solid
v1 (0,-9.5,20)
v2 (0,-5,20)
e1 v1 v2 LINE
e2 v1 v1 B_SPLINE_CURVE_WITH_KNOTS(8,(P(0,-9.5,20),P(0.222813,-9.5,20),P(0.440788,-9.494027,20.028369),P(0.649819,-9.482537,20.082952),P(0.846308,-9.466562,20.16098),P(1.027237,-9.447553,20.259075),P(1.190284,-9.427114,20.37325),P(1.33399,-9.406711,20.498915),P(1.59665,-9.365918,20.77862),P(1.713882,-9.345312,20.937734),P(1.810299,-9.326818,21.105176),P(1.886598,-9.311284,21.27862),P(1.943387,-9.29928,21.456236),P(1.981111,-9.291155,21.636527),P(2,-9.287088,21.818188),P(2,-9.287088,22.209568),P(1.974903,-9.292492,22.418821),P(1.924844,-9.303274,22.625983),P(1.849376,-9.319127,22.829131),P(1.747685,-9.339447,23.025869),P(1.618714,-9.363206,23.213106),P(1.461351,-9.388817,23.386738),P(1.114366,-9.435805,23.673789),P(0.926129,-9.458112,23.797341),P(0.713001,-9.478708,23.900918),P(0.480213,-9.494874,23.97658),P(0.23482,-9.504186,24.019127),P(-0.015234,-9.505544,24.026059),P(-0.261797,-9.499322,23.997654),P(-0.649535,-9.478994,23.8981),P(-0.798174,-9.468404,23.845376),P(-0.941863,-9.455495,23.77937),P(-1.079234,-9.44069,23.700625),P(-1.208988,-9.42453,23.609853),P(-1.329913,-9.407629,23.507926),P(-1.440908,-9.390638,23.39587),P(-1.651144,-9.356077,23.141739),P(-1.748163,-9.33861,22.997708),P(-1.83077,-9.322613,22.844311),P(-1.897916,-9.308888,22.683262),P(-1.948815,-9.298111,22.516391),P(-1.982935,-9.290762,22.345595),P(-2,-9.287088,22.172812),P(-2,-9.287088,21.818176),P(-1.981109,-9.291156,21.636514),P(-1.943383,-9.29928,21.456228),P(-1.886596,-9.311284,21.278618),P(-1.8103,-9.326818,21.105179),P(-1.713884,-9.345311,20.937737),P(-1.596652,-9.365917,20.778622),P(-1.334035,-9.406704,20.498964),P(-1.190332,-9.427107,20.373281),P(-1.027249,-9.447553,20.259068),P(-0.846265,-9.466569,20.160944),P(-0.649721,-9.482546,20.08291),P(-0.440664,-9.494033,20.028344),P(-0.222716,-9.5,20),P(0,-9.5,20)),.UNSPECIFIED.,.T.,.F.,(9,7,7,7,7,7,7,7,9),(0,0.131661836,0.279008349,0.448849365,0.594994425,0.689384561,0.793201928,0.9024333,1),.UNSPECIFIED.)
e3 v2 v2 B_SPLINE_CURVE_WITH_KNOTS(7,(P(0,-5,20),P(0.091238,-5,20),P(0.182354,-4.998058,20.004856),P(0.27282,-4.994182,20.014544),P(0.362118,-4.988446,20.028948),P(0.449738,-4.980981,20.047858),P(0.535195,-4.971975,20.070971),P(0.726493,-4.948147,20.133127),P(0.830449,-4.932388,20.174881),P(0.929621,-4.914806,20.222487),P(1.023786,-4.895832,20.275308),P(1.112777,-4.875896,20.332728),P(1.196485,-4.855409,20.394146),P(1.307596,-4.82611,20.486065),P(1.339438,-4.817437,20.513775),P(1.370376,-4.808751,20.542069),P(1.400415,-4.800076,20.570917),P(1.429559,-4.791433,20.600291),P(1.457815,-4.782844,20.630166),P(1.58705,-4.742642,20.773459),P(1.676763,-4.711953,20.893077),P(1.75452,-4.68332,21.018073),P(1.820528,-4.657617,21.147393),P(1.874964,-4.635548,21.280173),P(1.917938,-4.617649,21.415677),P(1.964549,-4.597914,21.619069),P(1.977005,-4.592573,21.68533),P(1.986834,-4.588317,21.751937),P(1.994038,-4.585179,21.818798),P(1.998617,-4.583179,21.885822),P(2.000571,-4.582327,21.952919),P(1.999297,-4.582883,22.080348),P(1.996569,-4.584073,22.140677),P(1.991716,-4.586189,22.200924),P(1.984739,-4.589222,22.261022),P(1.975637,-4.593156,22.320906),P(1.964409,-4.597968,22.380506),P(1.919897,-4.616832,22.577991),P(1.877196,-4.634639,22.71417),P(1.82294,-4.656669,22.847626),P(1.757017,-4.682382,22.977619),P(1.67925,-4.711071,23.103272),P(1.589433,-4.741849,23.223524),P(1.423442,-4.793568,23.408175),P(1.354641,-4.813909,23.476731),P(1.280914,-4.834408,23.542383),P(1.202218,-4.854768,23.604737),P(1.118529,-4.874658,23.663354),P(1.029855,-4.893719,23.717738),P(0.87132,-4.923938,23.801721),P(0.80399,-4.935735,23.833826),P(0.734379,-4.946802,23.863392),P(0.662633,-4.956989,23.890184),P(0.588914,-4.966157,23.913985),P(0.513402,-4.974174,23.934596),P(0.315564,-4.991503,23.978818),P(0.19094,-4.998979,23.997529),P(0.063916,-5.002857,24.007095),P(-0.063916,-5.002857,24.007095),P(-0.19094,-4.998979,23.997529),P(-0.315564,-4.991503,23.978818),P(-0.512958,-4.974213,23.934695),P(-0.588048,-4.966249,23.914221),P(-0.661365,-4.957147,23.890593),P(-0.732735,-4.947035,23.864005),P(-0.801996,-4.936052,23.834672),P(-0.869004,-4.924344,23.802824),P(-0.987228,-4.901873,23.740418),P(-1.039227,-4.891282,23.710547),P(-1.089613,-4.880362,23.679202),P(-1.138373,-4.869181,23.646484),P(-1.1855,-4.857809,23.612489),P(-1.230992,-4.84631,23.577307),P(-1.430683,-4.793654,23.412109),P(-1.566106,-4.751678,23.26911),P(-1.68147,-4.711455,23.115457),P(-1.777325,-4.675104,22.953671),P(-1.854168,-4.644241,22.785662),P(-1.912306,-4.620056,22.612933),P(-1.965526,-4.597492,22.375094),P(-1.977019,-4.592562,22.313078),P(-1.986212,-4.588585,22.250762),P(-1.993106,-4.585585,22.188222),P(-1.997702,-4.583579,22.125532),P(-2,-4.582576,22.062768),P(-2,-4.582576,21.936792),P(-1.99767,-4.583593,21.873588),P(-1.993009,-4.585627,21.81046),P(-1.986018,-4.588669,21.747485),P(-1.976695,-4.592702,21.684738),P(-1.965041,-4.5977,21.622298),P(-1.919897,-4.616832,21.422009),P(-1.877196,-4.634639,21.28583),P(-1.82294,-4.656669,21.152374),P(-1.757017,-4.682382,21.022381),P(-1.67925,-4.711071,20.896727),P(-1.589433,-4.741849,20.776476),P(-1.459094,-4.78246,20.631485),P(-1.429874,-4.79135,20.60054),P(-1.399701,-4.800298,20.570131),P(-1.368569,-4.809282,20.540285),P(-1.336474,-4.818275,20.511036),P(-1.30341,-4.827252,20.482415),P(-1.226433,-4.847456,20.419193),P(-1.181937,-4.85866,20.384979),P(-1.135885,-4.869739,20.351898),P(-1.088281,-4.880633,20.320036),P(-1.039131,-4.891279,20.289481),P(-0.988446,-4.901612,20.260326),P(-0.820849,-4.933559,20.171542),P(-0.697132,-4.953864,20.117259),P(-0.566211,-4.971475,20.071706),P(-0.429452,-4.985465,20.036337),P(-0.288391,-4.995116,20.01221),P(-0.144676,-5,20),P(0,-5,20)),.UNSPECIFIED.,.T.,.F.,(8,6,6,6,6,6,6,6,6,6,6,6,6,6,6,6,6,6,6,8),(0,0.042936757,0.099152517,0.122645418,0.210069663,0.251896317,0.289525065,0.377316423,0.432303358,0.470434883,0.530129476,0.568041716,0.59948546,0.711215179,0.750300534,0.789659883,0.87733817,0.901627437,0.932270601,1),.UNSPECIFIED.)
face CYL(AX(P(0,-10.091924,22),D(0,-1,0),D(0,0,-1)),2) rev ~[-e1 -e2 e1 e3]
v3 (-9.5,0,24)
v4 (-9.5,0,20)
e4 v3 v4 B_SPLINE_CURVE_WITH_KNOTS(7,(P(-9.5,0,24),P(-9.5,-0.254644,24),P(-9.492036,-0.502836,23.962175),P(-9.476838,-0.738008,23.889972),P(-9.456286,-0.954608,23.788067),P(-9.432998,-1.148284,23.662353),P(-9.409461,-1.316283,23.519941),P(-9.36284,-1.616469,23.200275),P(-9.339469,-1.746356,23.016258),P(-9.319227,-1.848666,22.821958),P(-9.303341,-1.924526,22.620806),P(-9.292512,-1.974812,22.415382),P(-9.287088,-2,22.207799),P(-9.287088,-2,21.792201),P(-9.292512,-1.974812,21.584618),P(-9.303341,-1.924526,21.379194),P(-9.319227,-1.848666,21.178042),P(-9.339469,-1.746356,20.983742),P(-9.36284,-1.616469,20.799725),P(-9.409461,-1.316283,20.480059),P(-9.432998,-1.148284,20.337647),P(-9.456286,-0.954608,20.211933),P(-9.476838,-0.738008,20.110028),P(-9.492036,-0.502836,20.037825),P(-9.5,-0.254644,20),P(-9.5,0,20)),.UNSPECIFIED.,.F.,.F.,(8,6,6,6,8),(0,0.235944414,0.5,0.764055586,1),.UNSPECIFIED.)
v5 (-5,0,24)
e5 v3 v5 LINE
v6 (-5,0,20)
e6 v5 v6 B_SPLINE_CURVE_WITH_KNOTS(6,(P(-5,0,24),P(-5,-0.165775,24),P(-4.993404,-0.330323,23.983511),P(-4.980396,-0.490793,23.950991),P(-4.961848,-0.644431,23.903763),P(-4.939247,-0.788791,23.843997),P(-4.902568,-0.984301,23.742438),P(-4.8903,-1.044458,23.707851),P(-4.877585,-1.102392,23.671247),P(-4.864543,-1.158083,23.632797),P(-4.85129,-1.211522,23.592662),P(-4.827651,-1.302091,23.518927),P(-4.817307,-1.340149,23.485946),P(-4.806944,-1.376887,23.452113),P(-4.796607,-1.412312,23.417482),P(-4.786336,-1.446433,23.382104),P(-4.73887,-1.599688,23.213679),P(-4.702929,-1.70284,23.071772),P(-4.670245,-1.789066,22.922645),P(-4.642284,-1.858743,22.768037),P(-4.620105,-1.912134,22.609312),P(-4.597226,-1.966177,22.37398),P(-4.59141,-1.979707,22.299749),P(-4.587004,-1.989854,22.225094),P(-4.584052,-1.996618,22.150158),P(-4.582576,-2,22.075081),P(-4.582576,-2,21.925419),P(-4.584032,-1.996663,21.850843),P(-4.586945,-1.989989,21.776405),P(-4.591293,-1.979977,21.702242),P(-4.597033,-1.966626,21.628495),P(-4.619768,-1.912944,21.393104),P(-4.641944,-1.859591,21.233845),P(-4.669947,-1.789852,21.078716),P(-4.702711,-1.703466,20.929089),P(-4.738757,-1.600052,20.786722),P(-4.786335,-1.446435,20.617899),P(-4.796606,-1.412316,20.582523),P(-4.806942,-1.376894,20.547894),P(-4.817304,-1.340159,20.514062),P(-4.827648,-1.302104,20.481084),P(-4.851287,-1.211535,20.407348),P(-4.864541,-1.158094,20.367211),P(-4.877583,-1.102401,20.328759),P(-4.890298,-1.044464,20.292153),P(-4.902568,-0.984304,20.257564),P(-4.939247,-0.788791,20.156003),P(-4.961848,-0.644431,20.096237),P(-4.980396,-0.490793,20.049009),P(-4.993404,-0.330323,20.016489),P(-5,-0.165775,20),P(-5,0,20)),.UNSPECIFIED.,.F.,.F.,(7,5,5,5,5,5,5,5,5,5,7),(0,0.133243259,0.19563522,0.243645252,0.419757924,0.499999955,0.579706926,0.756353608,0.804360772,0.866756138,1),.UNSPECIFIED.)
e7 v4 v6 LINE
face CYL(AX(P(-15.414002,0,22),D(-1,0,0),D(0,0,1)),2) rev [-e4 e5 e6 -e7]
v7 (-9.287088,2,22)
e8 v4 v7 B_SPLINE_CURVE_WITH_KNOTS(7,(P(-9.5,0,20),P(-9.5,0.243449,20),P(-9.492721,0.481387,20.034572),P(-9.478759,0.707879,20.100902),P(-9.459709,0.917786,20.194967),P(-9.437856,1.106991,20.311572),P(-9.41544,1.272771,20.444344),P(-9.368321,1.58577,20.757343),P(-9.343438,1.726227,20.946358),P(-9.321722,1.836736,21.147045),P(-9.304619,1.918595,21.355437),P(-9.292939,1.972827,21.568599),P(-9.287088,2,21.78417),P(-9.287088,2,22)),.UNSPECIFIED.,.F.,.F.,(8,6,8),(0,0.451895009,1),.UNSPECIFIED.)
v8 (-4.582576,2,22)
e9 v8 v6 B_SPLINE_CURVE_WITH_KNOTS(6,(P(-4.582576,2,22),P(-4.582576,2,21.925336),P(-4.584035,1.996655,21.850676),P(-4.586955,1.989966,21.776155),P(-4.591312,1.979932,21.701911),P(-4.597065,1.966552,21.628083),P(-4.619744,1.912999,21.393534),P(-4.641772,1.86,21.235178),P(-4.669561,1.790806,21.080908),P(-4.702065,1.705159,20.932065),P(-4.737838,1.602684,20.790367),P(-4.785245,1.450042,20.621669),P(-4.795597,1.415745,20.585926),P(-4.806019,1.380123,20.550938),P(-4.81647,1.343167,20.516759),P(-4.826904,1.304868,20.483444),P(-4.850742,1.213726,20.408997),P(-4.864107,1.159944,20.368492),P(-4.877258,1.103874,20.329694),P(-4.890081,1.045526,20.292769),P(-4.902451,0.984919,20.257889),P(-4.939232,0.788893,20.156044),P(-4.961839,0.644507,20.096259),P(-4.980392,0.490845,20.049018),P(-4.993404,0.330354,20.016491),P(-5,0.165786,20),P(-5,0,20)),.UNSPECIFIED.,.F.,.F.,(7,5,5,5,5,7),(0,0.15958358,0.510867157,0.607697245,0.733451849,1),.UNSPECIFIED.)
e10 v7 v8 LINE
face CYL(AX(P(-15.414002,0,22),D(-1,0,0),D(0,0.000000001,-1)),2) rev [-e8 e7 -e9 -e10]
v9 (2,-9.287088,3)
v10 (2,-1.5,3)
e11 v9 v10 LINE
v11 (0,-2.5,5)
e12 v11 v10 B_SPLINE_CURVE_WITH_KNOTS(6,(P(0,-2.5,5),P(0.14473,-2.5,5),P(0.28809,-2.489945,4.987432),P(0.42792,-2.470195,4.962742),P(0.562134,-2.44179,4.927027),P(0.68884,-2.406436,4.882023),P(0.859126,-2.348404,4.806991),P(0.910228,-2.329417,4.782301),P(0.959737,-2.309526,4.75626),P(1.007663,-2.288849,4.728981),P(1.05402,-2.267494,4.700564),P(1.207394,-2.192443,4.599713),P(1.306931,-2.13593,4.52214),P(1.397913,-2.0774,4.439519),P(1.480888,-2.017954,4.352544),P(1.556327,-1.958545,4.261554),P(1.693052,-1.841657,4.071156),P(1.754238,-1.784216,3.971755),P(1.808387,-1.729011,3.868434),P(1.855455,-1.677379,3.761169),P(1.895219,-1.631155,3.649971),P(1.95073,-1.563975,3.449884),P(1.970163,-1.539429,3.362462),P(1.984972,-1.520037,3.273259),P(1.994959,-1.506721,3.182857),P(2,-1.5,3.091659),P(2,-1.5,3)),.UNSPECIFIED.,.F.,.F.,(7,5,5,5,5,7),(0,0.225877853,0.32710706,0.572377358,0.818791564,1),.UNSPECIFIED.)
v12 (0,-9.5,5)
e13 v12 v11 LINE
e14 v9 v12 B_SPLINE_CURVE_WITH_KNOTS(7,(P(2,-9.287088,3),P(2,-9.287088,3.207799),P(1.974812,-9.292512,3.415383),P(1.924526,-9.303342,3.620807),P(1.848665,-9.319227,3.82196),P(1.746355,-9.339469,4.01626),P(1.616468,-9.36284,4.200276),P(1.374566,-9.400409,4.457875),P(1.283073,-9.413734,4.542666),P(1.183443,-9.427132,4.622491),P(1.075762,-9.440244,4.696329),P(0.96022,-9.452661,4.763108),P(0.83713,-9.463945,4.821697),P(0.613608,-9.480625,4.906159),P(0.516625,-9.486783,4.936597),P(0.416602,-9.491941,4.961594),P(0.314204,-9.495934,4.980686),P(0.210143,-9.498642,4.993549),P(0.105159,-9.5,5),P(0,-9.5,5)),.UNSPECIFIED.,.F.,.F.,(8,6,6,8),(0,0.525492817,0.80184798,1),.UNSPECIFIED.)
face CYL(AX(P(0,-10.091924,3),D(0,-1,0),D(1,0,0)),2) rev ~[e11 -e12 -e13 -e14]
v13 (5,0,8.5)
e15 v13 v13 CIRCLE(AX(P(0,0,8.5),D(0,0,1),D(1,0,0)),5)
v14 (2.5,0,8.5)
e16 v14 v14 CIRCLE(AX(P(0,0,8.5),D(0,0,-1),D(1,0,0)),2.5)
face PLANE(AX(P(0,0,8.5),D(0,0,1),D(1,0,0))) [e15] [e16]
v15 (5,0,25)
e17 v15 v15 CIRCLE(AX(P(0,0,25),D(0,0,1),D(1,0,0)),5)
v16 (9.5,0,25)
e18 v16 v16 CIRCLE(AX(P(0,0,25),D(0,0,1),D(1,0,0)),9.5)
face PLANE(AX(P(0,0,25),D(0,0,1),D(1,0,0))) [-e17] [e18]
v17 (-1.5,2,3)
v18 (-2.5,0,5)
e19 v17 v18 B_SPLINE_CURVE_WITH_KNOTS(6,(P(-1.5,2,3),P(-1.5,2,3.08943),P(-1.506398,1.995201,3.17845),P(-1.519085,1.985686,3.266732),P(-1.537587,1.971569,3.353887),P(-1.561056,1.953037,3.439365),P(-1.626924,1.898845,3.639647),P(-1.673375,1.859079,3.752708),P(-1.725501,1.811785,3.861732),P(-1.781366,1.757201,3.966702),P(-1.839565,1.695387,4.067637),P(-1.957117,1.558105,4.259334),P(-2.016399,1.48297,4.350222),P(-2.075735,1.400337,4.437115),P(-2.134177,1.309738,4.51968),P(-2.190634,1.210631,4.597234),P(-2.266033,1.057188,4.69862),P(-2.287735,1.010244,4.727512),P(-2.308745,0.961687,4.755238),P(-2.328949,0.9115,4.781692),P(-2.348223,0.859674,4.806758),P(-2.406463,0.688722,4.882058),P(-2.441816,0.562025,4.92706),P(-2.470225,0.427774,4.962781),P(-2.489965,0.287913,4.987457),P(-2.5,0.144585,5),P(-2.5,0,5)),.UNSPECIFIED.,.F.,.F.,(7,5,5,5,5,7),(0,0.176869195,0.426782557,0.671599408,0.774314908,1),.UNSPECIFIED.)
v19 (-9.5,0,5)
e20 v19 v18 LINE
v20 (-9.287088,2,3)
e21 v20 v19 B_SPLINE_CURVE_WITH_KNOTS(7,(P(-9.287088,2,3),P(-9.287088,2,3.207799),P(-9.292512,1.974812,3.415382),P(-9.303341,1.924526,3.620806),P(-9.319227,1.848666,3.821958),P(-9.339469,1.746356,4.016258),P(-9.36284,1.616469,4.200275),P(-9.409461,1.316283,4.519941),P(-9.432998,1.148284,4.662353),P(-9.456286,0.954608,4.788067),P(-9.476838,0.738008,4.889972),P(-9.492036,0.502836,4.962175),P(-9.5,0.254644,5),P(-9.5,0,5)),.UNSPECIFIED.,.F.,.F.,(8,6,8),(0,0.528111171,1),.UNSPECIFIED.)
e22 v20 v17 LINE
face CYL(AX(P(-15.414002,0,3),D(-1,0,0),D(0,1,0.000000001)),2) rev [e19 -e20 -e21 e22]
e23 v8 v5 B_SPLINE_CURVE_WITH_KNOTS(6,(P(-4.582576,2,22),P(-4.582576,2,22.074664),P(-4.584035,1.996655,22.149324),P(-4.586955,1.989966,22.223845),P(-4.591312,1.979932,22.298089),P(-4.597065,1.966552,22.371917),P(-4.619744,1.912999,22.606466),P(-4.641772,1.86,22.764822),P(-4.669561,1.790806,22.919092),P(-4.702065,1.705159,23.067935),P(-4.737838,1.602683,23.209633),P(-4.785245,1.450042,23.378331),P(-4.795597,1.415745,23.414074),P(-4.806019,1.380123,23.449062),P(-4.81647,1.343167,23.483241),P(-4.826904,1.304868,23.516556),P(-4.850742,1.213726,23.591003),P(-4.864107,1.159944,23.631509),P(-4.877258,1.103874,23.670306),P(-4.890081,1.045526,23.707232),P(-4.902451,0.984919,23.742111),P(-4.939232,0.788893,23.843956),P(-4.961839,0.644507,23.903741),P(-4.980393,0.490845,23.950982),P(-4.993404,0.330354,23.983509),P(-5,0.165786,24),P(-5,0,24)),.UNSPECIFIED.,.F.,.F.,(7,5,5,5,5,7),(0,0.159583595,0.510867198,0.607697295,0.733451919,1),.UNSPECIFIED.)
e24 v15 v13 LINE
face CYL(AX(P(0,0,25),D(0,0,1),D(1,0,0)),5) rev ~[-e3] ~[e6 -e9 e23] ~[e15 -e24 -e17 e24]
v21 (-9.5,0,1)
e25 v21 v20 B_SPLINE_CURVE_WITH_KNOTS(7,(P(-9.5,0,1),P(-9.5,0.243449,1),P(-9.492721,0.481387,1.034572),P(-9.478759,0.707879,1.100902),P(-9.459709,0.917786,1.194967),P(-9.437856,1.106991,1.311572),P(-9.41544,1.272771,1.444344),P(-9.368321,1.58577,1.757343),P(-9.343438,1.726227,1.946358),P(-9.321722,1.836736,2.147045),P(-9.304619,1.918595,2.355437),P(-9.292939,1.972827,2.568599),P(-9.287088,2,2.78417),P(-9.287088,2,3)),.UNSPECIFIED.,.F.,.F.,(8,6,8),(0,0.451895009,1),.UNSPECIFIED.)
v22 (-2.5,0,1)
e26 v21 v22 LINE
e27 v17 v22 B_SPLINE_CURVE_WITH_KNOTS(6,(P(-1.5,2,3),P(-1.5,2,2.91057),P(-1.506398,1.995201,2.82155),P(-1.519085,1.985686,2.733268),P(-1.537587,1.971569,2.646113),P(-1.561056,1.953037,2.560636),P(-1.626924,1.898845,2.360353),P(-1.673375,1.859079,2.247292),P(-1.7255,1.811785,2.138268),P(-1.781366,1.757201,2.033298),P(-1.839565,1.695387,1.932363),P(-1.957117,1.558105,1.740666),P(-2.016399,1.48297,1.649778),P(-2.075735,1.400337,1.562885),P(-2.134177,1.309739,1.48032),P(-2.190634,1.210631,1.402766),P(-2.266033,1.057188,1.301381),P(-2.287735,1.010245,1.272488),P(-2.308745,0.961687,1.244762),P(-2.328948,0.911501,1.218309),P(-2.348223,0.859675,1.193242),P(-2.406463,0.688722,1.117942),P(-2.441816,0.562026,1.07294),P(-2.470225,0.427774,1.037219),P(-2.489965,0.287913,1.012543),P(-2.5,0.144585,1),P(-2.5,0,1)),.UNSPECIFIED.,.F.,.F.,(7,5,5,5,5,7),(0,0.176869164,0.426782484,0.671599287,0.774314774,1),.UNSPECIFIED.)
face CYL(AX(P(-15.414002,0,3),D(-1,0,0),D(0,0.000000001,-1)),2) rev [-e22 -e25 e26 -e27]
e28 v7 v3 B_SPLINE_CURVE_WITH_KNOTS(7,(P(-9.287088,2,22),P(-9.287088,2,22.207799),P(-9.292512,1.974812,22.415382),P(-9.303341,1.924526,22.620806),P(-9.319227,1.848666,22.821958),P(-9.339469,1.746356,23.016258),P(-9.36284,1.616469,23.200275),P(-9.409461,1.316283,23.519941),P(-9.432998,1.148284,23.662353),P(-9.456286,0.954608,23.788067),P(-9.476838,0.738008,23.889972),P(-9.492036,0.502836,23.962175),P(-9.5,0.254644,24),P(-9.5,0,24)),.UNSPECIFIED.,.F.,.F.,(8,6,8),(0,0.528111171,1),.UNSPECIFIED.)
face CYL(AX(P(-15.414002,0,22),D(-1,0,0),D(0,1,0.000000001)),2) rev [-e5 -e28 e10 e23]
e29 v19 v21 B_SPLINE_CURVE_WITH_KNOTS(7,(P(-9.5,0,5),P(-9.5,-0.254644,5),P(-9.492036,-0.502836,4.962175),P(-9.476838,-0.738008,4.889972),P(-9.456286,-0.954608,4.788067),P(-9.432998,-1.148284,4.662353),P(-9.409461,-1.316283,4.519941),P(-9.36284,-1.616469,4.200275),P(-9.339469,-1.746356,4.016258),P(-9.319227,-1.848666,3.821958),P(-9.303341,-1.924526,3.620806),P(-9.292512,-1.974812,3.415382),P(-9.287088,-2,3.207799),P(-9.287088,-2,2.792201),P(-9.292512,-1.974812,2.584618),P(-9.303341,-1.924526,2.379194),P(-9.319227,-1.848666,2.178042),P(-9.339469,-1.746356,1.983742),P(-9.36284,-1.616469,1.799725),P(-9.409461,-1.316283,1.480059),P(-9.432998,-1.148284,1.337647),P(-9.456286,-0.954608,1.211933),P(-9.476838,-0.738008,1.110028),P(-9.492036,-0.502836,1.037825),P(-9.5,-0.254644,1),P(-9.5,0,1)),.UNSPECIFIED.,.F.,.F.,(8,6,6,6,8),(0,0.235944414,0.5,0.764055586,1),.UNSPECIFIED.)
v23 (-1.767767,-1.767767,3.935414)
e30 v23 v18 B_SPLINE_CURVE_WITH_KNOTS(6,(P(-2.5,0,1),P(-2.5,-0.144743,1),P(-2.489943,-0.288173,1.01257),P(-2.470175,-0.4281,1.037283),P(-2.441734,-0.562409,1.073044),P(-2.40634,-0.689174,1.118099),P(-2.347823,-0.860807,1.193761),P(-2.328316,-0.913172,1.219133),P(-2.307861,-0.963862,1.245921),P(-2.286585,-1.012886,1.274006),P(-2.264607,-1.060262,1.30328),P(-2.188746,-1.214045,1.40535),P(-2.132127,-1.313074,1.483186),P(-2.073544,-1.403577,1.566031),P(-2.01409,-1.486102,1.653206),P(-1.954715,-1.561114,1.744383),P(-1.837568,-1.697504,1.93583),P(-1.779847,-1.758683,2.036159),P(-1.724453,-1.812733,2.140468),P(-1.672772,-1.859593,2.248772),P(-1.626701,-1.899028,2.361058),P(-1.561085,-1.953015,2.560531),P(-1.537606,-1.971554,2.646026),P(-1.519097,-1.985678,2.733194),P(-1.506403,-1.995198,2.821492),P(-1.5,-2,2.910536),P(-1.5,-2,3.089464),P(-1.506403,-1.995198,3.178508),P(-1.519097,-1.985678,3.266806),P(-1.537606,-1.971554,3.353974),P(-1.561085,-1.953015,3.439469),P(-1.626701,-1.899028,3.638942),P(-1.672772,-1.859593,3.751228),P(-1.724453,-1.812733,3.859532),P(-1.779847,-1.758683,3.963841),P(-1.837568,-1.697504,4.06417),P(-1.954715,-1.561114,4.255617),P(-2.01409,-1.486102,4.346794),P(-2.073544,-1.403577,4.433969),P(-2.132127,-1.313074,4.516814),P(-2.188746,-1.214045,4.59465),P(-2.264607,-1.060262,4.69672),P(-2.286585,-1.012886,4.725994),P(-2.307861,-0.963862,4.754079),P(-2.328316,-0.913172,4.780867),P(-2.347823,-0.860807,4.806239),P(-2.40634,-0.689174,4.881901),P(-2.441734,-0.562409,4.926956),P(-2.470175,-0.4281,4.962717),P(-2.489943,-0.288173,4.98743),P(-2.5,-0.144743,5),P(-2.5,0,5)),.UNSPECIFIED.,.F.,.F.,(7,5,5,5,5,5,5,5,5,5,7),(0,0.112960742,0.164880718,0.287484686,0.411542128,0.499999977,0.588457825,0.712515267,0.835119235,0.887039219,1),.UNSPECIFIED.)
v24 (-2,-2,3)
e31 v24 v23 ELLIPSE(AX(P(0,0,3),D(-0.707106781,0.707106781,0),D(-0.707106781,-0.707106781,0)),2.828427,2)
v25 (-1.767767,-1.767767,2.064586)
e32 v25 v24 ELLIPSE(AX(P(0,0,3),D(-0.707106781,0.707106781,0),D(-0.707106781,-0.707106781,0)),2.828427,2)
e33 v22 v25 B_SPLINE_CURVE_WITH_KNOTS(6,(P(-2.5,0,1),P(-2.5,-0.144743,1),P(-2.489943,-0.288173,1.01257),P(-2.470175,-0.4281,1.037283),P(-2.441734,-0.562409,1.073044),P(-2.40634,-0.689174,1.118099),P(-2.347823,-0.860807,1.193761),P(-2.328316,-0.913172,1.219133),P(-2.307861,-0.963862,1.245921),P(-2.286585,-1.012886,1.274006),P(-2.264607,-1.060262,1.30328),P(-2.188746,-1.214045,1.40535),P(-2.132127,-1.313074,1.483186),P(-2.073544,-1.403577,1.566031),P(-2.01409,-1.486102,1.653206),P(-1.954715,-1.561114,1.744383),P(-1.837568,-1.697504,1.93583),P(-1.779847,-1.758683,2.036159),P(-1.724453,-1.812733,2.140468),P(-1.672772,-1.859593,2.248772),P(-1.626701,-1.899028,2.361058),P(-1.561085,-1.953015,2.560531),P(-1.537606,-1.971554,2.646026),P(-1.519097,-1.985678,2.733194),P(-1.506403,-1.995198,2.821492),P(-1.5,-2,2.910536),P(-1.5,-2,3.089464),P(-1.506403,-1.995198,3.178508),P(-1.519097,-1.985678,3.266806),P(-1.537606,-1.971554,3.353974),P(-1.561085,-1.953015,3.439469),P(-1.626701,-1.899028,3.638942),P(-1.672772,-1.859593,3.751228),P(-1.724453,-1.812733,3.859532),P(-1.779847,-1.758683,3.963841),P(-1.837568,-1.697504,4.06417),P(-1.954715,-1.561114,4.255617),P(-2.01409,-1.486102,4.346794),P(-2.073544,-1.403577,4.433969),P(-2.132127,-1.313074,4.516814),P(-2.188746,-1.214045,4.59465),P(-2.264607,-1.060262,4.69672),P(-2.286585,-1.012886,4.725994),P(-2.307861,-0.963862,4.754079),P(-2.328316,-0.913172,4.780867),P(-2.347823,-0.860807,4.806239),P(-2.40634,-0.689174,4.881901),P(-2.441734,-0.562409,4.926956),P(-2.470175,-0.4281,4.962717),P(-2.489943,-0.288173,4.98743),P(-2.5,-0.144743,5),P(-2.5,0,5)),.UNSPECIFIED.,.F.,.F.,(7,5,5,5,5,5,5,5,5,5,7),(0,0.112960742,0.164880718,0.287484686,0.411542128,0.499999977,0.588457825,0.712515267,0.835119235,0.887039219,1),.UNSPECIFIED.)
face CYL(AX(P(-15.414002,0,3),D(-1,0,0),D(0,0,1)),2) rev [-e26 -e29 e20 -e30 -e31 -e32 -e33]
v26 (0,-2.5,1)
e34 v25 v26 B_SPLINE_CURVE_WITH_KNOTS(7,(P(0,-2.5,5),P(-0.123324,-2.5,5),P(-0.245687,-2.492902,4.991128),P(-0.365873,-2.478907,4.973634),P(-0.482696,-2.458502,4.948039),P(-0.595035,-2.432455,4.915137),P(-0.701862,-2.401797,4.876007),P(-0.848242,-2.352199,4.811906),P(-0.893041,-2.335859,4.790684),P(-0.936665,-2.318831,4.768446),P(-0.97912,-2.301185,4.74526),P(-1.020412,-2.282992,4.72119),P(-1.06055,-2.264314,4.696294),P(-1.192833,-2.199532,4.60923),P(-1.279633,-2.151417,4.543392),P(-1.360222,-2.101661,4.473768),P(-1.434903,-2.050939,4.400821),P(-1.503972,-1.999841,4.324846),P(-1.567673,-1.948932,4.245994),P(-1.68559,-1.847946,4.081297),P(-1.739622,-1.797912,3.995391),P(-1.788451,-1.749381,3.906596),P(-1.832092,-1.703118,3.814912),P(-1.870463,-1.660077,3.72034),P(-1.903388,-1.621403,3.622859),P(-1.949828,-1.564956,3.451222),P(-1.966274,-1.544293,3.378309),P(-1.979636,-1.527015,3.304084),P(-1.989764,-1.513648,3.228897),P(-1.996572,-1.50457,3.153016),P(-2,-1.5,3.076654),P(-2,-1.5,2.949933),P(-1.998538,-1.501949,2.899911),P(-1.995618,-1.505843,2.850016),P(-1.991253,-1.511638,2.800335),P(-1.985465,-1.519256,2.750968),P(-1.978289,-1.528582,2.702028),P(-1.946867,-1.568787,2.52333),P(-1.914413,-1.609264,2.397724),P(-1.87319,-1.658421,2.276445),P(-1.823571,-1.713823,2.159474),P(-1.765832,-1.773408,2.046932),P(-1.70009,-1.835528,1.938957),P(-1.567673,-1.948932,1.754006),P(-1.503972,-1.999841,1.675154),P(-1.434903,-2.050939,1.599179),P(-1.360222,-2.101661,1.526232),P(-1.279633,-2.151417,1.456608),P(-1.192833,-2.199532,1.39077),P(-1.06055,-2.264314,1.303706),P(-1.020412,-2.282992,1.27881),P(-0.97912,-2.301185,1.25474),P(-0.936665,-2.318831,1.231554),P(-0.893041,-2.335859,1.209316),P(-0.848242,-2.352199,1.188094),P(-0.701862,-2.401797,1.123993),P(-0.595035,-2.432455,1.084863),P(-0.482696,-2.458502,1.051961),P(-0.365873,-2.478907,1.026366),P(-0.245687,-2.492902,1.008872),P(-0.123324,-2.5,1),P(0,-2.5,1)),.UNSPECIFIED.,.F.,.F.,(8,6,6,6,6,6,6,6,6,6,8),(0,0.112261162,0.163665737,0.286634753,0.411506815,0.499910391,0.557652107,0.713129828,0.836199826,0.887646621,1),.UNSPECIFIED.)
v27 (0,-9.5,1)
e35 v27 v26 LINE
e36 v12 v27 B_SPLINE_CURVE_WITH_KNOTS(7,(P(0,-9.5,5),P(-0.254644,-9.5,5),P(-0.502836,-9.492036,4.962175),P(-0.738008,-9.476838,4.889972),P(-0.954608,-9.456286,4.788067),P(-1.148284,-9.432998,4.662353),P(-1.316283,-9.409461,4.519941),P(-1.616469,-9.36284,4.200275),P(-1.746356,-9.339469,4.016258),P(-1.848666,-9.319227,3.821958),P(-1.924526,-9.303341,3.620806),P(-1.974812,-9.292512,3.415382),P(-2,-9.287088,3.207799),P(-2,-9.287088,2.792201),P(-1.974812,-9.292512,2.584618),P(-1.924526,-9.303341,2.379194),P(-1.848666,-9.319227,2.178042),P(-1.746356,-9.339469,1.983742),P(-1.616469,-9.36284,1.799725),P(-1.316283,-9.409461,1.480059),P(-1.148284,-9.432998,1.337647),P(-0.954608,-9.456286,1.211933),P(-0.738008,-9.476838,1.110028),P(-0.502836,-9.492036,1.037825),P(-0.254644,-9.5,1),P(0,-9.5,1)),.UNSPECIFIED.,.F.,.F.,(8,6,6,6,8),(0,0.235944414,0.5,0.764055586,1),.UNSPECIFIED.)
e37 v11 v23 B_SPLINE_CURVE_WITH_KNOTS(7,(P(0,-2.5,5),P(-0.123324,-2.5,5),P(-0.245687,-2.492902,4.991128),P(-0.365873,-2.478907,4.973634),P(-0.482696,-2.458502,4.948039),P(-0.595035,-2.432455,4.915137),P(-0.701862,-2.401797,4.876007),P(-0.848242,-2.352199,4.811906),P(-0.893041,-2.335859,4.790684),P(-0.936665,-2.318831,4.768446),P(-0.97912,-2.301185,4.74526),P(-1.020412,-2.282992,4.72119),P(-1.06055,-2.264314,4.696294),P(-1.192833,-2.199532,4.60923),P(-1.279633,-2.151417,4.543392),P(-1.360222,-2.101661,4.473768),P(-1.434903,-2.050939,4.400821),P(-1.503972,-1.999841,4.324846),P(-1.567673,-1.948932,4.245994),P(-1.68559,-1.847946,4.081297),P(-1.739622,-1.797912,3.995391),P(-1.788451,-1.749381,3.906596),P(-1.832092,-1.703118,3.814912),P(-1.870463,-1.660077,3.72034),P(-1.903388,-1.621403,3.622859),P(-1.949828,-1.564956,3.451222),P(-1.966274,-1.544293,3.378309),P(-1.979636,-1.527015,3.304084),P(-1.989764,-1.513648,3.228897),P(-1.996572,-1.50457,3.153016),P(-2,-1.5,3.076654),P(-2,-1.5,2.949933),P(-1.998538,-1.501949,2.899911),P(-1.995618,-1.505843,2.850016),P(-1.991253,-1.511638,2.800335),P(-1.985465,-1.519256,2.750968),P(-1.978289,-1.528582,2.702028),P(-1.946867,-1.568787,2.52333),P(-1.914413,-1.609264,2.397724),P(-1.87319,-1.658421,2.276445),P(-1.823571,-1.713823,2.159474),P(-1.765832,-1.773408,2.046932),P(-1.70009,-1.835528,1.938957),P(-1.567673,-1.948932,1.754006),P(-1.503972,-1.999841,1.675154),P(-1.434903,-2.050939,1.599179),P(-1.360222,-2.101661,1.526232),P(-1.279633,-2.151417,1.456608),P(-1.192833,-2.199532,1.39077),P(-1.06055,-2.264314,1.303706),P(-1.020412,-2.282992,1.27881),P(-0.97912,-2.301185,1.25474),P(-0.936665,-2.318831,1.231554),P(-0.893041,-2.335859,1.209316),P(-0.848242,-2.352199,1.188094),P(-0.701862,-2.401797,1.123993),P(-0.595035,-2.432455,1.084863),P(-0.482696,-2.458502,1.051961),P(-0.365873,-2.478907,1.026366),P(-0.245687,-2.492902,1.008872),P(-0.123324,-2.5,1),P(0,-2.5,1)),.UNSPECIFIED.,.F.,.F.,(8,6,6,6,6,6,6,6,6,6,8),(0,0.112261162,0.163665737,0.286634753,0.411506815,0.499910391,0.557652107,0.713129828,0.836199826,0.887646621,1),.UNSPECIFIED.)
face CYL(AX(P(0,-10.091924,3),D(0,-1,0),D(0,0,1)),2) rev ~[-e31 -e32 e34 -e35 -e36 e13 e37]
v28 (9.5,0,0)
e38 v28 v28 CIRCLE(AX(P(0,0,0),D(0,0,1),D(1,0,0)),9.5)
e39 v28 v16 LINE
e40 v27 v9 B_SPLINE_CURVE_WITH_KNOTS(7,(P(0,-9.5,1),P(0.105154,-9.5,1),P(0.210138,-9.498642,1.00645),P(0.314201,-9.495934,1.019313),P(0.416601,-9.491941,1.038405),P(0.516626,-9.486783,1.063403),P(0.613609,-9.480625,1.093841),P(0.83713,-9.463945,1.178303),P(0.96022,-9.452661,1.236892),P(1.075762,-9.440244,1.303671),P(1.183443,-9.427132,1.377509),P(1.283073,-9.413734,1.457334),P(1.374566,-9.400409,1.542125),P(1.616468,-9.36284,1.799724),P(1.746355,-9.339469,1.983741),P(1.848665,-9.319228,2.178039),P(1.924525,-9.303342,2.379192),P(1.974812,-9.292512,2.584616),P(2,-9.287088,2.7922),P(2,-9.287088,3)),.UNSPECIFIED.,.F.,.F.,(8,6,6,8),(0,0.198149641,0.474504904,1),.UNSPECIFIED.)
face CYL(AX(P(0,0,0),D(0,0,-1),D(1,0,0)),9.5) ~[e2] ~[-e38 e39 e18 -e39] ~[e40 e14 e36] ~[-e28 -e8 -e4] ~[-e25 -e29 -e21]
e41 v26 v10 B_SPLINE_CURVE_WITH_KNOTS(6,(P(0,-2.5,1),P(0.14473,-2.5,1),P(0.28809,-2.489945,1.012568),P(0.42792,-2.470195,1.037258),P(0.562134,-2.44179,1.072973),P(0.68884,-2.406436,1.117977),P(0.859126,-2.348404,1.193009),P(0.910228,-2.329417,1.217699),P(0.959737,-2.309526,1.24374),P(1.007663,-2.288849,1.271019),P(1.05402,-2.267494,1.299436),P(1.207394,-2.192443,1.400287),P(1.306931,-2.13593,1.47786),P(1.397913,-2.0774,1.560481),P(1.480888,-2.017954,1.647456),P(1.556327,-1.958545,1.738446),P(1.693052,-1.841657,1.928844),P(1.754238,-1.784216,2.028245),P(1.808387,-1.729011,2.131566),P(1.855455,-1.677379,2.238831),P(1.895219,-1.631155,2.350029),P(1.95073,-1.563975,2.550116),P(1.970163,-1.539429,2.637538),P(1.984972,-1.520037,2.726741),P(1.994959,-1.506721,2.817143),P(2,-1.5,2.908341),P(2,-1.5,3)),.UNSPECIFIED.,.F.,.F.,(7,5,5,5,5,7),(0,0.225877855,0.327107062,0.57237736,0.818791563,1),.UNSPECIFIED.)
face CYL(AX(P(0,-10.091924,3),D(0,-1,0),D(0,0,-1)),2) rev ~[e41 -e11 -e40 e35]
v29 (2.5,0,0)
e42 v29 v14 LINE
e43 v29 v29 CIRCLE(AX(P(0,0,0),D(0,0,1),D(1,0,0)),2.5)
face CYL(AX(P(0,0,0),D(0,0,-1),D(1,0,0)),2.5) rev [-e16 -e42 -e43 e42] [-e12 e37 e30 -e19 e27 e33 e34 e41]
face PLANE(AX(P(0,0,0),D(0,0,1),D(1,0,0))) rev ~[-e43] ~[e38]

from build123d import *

# Parameters (mm, degrees)
SKETCH2_R           = 9.5
SKETCH2_R_2         = 2.5
BOSS_EXTRUDE1_DEPTH = 25
SKETCH3_R           = 5
CUT_EXTRUDE1_DEPTH  = 16.5
CUT_EXTRUDE2_DEPTH  = 16.5
SKETCH5_R           = 2
CUT_EXTRUDE3_DEPTH  = 9.5


with BuildPart() as part:
    # Sketch2 → Boss-Extrude1 (new body)
    with BuildSketch(Plane.XY):
        Circle(SKETCH2_R)
        Circle(SKETCH2_R_2, mode=Mode.SUBTRACT)
    extrude(amount=BOSS_EXTRUDE1_DEPTH)

    # Sketch3 → Cut-Extrude1 (cut)
    with BuildSketch(Plane.XY.offset(25)):
        Circle(SKETCH3_R)
    extrude(amount=-CUT_EXTRUDE1_DEPTH, mode=Mode.SUBTRACT)

    # Sketch4 → Cut-Extrude2 (cut)
    with BuildSketch(Plane(origin=(-15.41400196, 54.908076208, -53.970187191), x_dir=(0, 1, 0), z_dir=(1, 0, 0))):
        with BuildLine():
            ThreePointArc((-54.908076208, 58.970187191), (-56.908076208, 56.970187191), (-54.908076208, 54.970187191))
            Line((-54.908076208, 54.970187191), (-54.908076208, 58.970187191))
        make_face()
        with BuildLine():
            Line((-54.908076208, 58.970187191), (-54.908076208, 54.970187191))
            ThreePointArc((-54.908076208, 54.970187191), (-53.493862646, 55.555973629), (-52.908076208, 56.970187191))
            ThreePointArc((-52.908076208, 56.970187191), (-53.493862646, 58.384400753), (-54.908076208, 58.970187191))
        make_face()
        with BuildLine():
            ThreePointArc((-52.908076208, 75.970187191), (-53.493862646, 77.384400753), (-54.908076208, 77.970187191))
            Line((-54.908076208, 77.970187191), (-54.908076208, 73.970187191))
            ThreePointArc((-54.908076208, 73.970187191), (-53.493862646, 74.555973629), (-52.908076208, 75.970187191))
        make_face()
        with BuildLine():
            Line((-54.908076208, 73.970187191), (-54.908076208, 77.970187191))
            ThreePointArc((-54.908076208, 77.970187191), (-56.908076208, 75.970187191), (-54.908076208, 73.970187191))
        make_face()
    extrude(amount=CUT_EXTRUDE2_DEPTH, mode=Mode.SUBTRACT)

    # Sketch5 → Cut-Extrude3 (cut)
    with BuildSketch(Plane(origin=(-15.41400196, -10.091923792, -53.970187191), x_dir=(1, 0, 0), z_dir=(0, -1, 0))):
        with BuildLine():
            ThreePointArc((15.41400196, 58.970187191), (13.41400196, 56.970187191), (15.41400196, 54.970187191))
            Line((15.41400196, 54.970187191), (15.41400196, 58.970187191))
        make_face()
        with BuildLine():
            Line((15.41400196, 58.970187191), (15.41400196, 54.970187191))
            ThreePointArc((15.41400196, 54.970187191), (16.828215523, 55.555973629), (17.41400196, 56.970187191))
            ThreePointArc((17.41400196, 56.970187191), (16.828215523, 58.384400753), (15.41400196, 58.970187191))
        make_face()
        with Locations(Location((15.41400196, 75.970187191, 0), (0, 0, 270))):
            Circle(SKETCH5_R)
    extrude(amount=-CUT_EXTRUDE3_DEPTH, mode=Mode.SUBTRACT)


solid = part.part
